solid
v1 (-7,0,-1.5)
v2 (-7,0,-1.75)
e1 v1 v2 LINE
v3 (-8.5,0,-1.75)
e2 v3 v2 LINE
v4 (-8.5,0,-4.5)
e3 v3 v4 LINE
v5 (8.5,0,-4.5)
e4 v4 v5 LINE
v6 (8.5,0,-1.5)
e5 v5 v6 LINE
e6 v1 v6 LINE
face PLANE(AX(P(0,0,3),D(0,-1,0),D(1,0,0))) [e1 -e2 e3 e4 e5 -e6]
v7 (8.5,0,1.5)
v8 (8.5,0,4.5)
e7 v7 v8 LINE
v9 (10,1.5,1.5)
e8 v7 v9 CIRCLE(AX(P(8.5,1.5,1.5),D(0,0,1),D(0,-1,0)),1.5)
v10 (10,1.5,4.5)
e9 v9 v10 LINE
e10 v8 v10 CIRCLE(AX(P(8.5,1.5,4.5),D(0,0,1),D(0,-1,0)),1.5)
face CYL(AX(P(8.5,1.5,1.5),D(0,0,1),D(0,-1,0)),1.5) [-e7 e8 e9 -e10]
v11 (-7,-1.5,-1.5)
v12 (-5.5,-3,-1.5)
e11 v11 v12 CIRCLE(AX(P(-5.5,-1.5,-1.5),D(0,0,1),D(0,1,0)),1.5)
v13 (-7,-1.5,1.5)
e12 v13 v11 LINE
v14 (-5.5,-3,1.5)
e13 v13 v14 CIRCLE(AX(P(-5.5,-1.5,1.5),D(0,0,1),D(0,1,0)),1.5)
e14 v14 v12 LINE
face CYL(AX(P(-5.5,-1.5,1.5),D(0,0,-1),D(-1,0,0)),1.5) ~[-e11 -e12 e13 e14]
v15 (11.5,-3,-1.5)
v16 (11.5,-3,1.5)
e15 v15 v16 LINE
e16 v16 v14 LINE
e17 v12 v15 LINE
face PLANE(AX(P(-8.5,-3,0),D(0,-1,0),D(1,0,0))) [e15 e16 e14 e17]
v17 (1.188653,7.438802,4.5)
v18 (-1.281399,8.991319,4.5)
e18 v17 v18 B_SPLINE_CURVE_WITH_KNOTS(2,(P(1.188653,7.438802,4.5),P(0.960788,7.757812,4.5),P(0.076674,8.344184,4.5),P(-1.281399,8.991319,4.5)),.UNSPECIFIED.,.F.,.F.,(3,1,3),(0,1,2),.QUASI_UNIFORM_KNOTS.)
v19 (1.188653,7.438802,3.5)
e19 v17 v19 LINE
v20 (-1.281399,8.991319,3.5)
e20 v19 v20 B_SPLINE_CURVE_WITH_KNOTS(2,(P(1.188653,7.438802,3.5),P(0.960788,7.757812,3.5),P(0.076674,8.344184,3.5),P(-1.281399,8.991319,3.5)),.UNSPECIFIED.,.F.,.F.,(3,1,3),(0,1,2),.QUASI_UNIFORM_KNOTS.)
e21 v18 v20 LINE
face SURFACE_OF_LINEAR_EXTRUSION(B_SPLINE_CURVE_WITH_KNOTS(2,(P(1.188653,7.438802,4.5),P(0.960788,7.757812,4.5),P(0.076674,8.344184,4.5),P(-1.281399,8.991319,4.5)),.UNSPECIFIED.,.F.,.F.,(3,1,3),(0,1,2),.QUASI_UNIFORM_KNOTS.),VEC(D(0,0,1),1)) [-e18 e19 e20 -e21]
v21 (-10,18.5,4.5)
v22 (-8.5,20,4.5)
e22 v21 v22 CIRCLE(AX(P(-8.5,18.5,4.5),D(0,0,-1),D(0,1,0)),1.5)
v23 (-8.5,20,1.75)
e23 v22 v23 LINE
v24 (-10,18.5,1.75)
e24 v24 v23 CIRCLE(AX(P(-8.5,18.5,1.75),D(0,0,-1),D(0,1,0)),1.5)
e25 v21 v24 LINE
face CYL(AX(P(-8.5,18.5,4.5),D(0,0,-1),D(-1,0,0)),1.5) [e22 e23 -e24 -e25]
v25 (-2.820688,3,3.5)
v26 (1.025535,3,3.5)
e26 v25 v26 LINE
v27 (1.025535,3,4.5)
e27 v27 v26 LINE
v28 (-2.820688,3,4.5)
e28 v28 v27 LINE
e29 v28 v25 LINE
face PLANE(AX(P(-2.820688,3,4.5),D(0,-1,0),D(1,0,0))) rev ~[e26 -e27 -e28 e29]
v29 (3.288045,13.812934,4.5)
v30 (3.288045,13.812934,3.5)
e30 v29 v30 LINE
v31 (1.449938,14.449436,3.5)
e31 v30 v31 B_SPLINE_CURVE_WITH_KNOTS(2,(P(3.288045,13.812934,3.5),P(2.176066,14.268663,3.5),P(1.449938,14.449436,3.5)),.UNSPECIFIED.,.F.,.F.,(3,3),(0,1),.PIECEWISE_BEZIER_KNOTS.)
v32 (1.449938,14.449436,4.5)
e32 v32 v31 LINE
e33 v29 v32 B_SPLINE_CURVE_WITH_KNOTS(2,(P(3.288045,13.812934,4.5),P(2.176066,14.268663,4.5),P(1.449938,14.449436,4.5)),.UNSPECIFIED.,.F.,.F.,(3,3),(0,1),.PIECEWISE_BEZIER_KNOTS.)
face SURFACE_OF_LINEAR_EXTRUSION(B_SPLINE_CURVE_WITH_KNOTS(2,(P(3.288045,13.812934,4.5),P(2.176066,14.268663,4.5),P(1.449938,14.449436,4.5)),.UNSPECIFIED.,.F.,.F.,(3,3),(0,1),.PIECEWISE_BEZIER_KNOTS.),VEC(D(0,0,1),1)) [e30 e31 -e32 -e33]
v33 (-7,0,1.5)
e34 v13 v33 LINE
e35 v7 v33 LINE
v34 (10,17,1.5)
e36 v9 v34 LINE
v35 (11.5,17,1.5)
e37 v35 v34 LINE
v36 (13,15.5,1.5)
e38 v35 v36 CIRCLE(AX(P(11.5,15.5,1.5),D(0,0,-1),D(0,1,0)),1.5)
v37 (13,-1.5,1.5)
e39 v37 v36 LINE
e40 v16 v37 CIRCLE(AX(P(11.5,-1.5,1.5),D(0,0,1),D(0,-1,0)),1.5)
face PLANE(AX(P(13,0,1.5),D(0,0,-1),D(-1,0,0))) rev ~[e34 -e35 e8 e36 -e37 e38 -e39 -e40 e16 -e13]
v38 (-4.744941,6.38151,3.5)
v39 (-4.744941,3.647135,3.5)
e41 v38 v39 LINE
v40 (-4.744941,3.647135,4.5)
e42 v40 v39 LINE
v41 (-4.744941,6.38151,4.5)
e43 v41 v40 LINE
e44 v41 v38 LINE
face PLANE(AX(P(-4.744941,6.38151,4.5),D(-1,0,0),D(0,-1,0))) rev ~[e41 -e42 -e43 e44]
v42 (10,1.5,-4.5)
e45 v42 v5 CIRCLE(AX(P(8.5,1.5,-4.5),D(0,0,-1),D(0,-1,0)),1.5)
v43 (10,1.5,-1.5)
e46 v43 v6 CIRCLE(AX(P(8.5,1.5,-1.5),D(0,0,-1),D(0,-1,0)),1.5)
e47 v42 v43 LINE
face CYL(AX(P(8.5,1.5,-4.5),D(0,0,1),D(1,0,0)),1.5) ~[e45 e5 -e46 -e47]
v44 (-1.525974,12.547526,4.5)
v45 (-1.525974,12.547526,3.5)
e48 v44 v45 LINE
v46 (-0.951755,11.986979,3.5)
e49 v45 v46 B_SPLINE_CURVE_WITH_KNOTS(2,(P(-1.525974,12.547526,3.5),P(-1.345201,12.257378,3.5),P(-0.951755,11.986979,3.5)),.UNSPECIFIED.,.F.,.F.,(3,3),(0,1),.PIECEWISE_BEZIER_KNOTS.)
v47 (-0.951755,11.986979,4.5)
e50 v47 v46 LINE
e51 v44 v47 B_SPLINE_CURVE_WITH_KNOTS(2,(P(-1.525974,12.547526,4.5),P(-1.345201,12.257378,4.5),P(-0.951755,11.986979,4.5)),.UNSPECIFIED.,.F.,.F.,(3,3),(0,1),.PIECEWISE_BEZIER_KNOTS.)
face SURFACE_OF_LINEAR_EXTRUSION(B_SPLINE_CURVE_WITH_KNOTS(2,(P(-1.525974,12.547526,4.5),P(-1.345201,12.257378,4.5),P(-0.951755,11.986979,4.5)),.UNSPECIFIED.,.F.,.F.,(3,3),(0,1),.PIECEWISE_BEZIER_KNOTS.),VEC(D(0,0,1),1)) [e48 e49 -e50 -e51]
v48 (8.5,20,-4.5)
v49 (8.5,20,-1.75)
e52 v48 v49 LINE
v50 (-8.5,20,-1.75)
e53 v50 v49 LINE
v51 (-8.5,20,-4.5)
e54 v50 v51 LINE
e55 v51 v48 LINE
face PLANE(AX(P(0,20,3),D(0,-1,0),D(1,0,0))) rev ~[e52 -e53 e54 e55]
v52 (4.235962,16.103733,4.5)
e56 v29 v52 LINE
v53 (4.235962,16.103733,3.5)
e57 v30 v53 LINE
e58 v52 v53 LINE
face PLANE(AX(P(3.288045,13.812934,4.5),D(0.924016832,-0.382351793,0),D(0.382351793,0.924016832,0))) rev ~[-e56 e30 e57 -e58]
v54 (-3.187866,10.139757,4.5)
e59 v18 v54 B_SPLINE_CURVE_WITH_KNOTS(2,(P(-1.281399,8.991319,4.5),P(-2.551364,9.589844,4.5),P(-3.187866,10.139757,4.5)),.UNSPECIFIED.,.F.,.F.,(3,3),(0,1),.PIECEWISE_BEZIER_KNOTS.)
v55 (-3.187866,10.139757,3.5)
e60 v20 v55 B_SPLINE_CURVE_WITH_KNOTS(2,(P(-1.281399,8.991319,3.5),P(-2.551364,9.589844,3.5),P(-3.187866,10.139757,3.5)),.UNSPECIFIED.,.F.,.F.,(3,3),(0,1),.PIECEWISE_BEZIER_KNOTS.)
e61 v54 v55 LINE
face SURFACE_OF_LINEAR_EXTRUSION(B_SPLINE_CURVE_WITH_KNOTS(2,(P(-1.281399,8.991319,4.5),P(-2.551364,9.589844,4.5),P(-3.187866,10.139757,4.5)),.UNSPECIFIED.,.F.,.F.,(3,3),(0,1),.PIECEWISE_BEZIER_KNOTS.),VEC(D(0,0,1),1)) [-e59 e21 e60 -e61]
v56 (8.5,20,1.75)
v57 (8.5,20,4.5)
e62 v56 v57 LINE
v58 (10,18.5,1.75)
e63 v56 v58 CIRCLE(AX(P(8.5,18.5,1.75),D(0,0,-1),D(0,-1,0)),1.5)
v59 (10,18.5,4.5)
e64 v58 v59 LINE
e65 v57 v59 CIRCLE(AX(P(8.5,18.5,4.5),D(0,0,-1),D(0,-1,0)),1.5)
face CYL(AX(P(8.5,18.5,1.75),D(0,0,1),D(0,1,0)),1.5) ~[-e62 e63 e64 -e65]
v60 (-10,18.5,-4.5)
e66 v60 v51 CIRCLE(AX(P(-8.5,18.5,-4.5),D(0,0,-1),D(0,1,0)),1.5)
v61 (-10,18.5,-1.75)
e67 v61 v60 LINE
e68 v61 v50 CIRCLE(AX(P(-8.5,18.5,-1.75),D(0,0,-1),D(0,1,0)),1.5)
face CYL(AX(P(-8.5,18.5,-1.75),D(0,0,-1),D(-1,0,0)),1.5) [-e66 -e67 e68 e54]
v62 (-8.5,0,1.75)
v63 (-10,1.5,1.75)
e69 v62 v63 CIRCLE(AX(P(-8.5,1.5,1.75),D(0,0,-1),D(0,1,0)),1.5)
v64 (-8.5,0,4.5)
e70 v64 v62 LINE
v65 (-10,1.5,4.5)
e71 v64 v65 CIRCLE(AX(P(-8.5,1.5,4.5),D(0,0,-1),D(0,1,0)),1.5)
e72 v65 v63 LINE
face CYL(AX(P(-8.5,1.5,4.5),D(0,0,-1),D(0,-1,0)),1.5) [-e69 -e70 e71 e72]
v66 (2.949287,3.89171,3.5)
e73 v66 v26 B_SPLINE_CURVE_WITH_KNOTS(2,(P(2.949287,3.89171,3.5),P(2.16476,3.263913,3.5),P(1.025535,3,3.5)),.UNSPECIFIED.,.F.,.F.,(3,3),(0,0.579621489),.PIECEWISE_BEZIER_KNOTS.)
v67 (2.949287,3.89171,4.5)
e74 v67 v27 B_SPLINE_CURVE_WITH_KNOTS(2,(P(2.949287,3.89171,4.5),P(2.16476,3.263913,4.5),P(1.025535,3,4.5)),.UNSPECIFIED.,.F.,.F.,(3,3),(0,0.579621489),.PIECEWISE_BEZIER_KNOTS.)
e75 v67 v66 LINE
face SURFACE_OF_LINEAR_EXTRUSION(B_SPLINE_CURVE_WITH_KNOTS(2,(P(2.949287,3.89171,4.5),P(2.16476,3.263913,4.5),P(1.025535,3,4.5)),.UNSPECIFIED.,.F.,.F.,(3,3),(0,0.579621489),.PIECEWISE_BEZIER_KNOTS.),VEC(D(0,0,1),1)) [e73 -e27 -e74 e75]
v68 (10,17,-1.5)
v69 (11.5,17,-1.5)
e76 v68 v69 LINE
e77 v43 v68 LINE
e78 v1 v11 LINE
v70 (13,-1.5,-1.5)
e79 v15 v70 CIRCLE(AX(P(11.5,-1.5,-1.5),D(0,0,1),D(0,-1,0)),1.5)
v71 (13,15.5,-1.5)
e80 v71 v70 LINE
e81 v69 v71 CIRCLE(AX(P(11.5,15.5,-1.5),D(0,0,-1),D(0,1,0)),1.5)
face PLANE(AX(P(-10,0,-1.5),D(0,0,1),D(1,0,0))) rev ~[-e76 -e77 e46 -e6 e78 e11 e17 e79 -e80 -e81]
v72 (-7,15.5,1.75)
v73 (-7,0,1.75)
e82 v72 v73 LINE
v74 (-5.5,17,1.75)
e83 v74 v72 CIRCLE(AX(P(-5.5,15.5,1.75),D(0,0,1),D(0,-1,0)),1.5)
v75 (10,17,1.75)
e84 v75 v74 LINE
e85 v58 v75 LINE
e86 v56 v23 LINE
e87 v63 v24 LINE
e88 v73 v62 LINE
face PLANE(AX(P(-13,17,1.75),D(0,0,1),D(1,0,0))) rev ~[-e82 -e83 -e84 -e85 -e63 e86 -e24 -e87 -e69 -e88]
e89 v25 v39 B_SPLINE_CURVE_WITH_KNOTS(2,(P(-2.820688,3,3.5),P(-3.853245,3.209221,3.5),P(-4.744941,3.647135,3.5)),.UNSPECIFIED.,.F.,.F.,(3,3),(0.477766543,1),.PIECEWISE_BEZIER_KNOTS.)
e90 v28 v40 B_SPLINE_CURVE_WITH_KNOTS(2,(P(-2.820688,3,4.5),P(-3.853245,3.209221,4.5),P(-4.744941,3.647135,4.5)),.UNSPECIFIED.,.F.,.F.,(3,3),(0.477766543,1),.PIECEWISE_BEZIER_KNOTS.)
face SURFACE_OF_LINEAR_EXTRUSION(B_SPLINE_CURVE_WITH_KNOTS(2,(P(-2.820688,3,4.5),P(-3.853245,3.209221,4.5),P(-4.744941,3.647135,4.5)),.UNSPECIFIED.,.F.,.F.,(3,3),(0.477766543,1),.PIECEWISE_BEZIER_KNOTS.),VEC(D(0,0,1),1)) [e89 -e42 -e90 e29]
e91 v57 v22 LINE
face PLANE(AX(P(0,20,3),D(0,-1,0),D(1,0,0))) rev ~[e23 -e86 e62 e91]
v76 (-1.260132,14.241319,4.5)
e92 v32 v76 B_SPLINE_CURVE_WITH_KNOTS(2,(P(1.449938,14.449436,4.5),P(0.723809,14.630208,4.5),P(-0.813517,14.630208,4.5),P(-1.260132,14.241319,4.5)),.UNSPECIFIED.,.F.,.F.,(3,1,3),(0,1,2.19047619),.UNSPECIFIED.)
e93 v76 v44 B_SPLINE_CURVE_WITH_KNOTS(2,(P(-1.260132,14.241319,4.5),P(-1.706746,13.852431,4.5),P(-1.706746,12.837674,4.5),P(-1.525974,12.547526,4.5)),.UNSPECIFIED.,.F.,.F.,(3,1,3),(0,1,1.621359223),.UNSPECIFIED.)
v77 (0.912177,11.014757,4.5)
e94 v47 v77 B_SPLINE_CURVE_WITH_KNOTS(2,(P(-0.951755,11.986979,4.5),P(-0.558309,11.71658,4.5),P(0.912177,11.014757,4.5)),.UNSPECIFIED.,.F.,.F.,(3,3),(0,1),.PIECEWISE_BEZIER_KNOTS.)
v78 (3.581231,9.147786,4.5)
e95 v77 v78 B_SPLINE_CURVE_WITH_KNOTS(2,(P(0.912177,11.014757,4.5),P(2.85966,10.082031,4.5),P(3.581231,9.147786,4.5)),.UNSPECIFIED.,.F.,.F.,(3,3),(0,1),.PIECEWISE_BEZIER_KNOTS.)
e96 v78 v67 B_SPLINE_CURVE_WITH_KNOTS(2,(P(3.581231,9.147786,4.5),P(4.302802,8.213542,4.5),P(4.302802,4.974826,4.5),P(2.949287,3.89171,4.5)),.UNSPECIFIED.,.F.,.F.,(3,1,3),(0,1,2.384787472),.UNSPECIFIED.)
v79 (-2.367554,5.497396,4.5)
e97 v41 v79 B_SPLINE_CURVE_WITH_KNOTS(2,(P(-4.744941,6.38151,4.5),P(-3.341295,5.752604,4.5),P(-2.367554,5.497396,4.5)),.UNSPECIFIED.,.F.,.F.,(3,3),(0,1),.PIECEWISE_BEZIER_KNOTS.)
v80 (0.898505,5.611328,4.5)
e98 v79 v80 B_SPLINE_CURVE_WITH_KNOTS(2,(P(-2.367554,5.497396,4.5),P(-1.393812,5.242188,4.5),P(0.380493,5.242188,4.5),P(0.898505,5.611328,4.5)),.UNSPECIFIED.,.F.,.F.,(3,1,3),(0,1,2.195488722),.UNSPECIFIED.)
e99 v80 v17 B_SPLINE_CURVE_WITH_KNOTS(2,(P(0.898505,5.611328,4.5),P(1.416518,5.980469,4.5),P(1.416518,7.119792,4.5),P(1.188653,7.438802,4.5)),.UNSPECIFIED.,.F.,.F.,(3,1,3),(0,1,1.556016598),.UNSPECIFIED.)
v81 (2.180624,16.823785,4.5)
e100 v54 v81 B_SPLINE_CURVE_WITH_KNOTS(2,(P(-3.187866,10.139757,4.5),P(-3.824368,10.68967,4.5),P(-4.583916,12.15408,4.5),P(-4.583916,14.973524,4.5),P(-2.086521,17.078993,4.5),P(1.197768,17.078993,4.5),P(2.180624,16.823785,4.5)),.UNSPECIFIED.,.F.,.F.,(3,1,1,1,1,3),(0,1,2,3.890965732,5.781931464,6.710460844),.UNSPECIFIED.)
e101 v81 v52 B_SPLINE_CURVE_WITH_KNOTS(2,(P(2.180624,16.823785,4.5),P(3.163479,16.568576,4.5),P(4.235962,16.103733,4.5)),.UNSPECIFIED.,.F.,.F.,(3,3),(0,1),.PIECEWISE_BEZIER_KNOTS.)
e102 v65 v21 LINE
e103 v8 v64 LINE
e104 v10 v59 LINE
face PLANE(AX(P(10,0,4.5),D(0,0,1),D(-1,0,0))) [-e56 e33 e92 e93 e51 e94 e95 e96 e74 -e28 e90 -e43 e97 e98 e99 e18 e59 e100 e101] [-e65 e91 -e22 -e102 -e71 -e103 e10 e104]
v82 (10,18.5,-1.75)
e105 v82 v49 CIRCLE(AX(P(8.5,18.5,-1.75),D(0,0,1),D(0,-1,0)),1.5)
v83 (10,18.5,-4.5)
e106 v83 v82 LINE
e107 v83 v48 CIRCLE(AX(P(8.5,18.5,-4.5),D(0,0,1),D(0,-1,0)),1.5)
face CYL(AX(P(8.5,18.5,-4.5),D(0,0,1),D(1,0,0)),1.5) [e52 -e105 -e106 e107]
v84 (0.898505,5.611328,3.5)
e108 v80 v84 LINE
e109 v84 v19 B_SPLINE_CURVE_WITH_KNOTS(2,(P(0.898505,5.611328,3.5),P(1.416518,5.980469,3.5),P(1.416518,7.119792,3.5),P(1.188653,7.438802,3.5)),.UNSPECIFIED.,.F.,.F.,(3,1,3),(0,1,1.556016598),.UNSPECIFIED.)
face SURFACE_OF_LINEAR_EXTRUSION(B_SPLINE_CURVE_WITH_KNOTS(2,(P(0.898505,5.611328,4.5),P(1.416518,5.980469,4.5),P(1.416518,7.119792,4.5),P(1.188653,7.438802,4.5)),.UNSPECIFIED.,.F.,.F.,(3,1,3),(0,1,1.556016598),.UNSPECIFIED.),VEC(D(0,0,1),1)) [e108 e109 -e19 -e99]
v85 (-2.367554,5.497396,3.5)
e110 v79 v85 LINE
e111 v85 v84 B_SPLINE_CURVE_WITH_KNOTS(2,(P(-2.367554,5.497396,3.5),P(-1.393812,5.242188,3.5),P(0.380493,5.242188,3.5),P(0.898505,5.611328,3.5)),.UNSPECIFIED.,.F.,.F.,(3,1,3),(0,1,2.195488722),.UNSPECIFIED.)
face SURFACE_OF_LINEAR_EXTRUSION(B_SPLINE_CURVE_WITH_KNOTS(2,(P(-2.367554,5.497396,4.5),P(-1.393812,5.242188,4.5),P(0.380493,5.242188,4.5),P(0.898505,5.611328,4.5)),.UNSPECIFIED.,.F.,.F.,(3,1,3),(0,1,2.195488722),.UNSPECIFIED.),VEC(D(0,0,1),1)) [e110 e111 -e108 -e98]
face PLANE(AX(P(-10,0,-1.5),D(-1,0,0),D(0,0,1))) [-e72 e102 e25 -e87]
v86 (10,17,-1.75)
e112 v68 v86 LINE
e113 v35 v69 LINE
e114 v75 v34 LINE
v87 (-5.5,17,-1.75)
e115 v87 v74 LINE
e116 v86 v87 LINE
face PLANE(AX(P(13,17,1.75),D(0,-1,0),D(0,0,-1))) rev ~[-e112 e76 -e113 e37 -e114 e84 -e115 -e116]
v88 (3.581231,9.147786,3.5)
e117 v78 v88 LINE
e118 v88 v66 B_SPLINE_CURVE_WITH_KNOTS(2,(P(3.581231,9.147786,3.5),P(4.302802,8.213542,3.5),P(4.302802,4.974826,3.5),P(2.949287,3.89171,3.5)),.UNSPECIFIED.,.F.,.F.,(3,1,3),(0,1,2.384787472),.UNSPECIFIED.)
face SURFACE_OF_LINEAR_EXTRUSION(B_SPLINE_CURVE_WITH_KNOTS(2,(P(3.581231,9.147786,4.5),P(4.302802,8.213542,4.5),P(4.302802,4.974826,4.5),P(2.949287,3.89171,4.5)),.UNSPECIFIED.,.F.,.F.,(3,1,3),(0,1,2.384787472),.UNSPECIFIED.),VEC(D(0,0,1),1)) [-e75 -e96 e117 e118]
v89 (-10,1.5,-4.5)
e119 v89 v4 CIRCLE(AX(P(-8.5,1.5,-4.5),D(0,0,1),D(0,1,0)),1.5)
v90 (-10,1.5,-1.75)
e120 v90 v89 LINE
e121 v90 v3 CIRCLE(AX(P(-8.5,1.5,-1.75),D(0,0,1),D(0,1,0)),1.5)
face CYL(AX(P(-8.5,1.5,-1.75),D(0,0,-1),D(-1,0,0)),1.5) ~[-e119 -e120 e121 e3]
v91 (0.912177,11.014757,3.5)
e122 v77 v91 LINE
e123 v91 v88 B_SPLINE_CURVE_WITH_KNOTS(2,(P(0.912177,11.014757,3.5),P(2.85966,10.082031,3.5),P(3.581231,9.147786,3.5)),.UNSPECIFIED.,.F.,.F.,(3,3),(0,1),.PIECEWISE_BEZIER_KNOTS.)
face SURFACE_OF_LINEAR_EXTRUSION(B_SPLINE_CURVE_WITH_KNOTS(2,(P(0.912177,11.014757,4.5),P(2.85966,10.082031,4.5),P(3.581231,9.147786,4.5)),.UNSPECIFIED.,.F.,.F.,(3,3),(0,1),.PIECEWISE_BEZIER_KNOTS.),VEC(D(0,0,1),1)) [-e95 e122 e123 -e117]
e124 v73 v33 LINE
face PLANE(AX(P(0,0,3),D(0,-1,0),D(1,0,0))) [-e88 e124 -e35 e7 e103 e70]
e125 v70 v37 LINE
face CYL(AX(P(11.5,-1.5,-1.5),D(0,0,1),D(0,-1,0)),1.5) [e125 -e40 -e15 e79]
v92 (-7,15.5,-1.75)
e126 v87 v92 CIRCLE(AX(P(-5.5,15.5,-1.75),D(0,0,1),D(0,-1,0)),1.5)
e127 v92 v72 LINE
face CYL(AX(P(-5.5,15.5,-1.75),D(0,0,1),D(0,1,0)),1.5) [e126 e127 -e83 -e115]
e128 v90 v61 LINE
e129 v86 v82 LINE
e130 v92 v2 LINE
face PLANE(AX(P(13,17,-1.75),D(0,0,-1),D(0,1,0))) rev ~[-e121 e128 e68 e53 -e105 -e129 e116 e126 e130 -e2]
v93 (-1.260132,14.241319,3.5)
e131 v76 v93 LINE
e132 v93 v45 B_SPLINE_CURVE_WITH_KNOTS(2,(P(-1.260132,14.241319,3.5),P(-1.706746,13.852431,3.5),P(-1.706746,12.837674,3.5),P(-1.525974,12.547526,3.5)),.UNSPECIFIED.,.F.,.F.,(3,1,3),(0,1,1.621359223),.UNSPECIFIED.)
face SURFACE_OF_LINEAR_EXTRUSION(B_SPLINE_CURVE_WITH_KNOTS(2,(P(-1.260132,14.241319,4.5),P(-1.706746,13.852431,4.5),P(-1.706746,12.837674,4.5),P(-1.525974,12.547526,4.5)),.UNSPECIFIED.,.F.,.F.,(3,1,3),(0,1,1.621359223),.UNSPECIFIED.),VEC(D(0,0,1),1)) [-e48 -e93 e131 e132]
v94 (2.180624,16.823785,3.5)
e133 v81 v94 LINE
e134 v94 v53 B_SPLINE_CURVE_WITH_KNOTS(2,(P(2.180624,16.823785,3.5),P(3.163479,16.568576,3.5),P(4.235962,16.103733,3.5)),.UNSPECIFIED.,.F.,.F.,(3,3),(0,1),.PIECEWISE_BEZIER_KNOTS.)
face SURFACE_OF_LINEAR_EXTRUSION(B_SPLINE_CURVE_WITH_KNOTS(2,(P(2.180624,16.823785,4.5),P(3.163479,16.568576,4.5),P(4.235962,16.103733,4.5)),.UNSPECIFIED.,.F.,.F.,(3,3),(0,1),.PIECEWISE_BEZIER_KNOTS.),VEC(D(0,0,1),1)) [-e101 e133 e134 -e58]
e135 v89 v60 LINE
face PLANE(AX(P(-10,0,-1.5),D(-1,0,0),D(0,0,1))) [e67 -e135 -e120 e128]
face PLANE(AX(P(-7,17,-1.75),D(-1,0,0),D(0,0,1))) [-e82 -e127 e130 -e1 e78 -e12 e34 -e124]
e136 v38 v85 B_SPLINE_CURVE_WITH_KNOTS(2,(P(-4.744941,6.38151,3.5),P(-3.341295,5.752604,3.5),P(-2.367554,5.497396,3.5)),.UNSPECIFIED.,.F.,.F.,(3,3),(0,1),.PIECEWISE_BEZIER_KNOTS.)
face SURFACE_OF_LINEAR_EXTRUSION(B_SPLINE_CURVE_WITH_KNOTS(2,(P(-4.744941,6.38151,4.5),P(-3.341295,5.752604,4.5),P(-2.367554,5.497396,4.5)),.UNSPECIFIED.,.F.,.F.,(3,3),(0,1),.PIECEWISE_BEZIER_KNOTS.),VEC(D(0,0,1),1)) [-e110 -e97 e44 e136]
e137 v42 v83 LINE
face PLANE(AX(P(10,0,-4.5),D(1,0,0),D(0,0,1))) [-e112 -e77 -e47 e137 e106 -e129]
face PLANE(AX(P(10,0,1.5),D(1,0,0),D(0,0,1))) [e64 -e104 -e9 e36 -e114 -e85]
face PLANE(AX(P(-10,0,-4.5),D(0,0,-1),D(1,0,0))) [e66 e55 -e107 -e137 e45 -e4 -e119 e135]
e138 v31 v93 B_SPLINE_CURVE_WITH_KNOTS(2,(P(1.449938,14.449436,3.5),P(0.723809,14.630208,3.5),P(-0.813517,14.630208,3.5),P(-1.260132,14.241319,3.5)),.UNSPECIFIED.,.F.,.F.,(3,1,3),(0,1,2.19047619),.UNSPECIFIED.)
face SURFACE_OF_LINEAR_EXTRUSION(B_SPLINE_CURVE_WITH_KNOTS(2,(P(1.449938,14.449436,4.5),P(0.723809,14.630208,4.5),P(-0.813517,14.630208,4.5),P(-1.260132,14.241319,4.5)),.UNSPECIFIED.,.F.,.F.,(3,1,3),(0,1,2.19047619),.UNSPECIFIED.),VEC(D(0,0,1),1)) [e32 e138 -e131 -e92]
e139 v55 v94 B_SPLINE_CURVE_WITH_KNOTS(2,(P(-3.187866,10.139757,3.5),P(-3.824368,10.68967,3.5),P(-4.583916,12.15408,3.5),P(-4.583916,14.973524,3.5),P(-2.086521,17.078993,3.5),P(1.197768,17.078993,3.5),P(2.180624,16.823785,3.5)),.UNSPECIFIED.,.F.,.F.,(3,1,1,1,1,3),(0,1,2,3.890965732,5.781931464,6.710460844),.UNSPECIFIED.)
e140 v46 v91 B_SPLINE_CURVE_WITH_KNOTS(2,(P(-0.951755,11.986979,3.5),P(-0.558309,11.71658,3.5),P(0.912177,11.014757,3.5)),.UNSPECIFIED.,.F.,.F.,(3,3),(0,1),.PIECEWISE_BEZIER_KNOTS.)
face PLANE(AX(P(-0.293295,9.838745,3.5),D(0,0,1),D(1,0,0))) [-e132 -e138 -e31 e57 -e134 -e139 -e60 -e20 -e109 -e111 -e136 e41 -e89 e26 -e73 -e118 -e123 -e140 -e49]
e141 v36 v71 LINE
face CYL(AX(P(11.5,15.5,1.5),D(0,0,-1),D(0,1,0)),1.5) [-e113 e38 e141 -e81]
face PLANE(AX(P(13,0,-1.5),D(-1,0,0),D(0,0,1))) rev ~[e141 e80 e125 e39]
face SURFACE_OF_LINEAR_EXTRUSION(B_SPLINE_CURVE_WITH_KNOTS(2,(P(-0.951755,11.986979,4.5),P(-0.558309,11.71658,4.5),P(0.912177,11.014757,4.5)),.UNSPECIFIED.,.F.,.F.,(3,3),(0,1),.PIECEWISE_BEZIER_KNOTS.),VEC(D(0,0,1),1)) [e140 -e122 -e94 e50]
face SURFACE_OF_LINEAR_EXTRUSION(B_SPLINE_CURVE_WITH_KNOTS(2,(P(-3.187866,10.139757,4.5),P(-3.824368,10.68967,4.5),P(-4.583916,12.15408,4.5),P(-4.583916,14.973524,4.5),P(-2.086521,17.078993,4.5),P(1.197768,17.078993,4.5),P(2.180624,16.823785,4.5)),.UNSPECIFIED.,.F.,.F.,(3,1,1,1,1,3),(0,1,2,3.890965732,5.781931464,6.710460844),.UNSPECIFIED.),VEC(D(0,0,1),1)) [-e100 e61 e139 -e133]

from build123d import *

# Parameters (mm, degrees)
F0_W     = 14
F0_H     = 3
F0_W_2   = 3
F1_DEPTH = 20
F2_DEPTH = 3
F3_W     = 3
F3_H     = 3
F4_DEPTH = 100
F5_W     = 3
F5_H     = 3.5
F6_DEPTH = 100
F7_R     = 1.5
F9_DEPTH = 1


with BuildPart() as f1:
    # F0 (on Front) → F1 (new body)
    with BuildSketch(Plane.XZ):
        Polygon((10, 1.5), (10, 4.5), (-10, 4.5), (-10, 1.5), (-7, 1.5), (7, 1.5), align=None)
        Rectangle(F0_W, F0_H)
        with Locations((11.5, 0)):
            Rectangle(F0_W_2, F0_H)
        with Locations((8.5, 0)):
            Rectangle(F0_W_2, F0_H)
        with Locations((-8.5, 0)):
            Rectangle(F0_W_2, F0_H)
        Polygon((10, -4.5), (10, -1.5), (7, -1.5), (-7, -1.5), (-10, -1.5), (-10, -4.5), align=None)
    extrude(amount=-F1_DEPTH)

    # F0 (on Front) → F2 (join)
    with BuildSketch(Plane.XZ):
        with Locations((-8.5, 0)):
            Rectangle(F0_W_2, F0_H)
        Rectangle(F0_W, F0_H)
        with Locations((8.5, 0)):
            Rectangle(F0_W_2, F0_H)
        with Locations((11.5, 0)):
            Rectangle(F0_W_2, F0_H)
    extrude(amount=F2_DEPTH)

    # F3 (on face) → F4 (cut)
    with BuildSketch(Plane.YZ.offset(13)):
        Polygon((23, -1.75), (23, 1.75), (17, 1.75), (17, 1.5), (20, 1.5), (20, -1.5), (17, -1.5), (17, -1.75), align=None)
        with Locations((18.5, 0)):
            Rectangle(F3_W, F3_H)
    extrude(amount=-F4_DEPTH, mode=Mode.SUBTRACT)

    # F5 (on face) → F6 (cut)
    with BuildSketch(Plane(origin=(0, 17, 0), x_dir=(-1, 0, 0), z_dir=(0, 1, 0))):
        with Locations((11.5, 0)):
            Rectangle(F5_W, F5_H)
        with Locations((8.5, 0)):
            Rectangle(F5_W, F5_H)
    extrude(amount=-F6_DEPTH, mode=Mode.SUBTRACT)

    # F7
    f7_edges = [f1.edges().sort_by_distance(p)[0] for p in [
        (-7, -3, 0),
        (13, -3, 0),
        (10, 0, 3),
        (10, 0, -3),
        (-10, 0, -3.125),
        (-10, 0, 3.125),
        (-7, 17, 0),
        (-10, 20, 3.125),
        (-10, 20, -3.125),
        (13, 17, 0),
        (10, 20, 3.125),
        (10, 20, -3.125),
    ]]
    fillet(f7_edges, radius=F7_R)

    # F8 (on face) → F9 (cut)
    with BuildSketch(Plane.XY.offset(4.5)):
        with BuildLine():
            Line((-2.8206877235, 3), (1.0255347449, 3))
            add(Edge.make_bspline(
                [(2.9492867111, 3.8917100694), (2.1647599693, 3.2639125757), (1.0255347449, 3)],
                knots=[0, 0, 0, 0.5796214889, 0.5796214889, 0.5796214889], degree=2))
            add(Edge.make_bspline(
                [(4.3028023361, 6.85546875), (4.3028023361, 4.9748263889), (2.9492867111, 3.8917100694)],
                knots=[0, 0, 0, 1, 1, 1], degree=2))
            add(Edge.make_bspline(
                [(3.5812311556, 9.1477864583), (4.3028023361, 8.2135416667), (4.3028023361, 6.85546875)],
                knots=[0, 0, 0, 1, 1, 1], degree=2))
            add(Edge.make_bspline(
                [(0.9121773361, 11.0147569444), (2.859659975, 10.08203125), (3.5812311556, 9.1477864583)],
                knots=[0, 0, 0, 1, 1, 1], degree=2))
            add(Edge.make_bspline(
                [(-0.9517549555, 11.9869791667), (-0.558308775, 11.7165798611), (0.9121773361, 11.0147569444)],
                knots=[0, 0, 0, 1, 1, 1], degree=2))
            add(Edge.make_bspline(
                [(-1.5259737055, 12.5475260417), (-1.3452011361, 12.2573784722), (-0.9517549555, 11.9869791667)],
                knots=[0, 0, 0, 1, 1, 1], degree=2))
            add(Edge.make_bspline(
                [(-1.706746275, 13.2265625), (-1.706746275, 12.8376736111), (-1.5259737055, 12.5475260417)],
                knots=[0, 0, 0, 1, 1, 1], degree=2))
            add(Edge.make_bspline(
                [(-1.2601316916, 14.2413194444), (-1.706746275, 13.8524305556), (-1.706746275, 13.2265625)],
                knots=[0, 0, 0, 1, 1, 1], degree=2))
            add(Edge.make_bspline(
                [(0.0219863639, 14.6302083333), (-0.8135171083, 14.6302083333), (-1.2601316916, 14.2413194444)],
                knots=[0, 0, 0, 1, 1, 1], degree=2))
            add(Edge.make_bspline(
                [(1.4499377528, 14.4494357639), (0.7238092806, 14.6302083333), (0.0219863639, 14.6302083333)],
                knots=[0, 0, 0, 1, 1, 1], degree=2))
            add(Edge.make_bspline(
                [(3.2880453917, 13.8129340278), (2.176066225, 14.2686631944), (1.4499377528, 14.4494357639)],
                knots=[0, 0, 0, 1, 1, 1], degree=2))
            Line((3.2880453917, 13.8129340278), (4.2359620584, 16.1037326389))
            add(Edge.make_bspline(
                [(2.1806235167, 16.8237847222), (3.1634794195, 16.5685763889), (4.2359620584, 16.1037326389)],
                knots=[0, 0, 0, 1, 1, 1], degree=2))
            add(Edge.make_bspline(
                [(0.1161703917, 17.0789930556), (1.1977676139, 17.0789930556), (2.1806235167, 16.8237847222)],
                knots=[0, 0, 0, 1, 1, 1], degree=2))
            add(Edge.make_bspline(
                [(-3.3352184972, 16.0262586806), (-2.0865205805, 17.0789930556), (0.1161703917, 17.0789930556)],
                knots=[0, 0, 0, 1, 1, 1], degree=2))
            add(Edge.make_bspline(
                [(-4.5839164139, 13.1293402778), (-4.5839164139, 14.9735243056), (-3.3352184972, 16.0262586806)],
                knots=[0, 0, 0, 1, 1, 1], degree=2))
            add(Edge.make_bspline(
                [(-4.2041421083, 11.421875), (-4.5839164139, 12.1540798611), (-4.5839164139, 13.1293402778)],
                knots=[0, 0, 0, 1, 1, 1], degree=2))
            add(Edge.make_bspline(
                [(-3.1878660666, 10.1397569444), (-3.8243678027, 10.6896701389), (-4.2041421083, 11.421875)],
                knots=[0, 0, 0, 1, 1, 1], degree=2))
            add(Edge.make_bspline(
                [(-1.2813990527, 8.9913194444), (-2.5513643305, 9.58984375), (-3.1878660666, 10.1397569444)],
                knots=[0, 0, 0, 1, 1, 1], degree=2))
            add(Edge.make_bspline(
                [(0.5187311556, 8.0509982639), (0.0766738639, 8.3441840278), (-1.2813990527, 8.9913194444)],
                knots=[0, 0, 0, 1, 1, 1], degree=2))
            add(Edge.make_bspline(
                [(1.1886530306, 7.4388020833), (0.9607884473, 7.7578125), (0.5187311556, 8.0509982639)],
                knots=[0, 0, 0, 1, 1, 1], degree=2))
            add(Edge.make_bspline(
                [(1.4165176139, 6.7126736111), (1.4165176139, 7.1197916667), (1.1886530306, 7.4388020833)],
                knots=[0, 0, 0, 1, 1, 1], degree=2))
            add(Edge.make_bspline(
                [(0.8985054611, 5.611328125), (1.4165176139, 5.98046875), (1.4165176139, 6.7126736111)],
                knots=[0, 0, 0, 1, 1, 1], degree=2))
            add(Edge.make_bspline(
                [(-0.585652525, 5.2421875), (0.3804933084, 5.2421875), (0.8985054611, 5.611328125)],
                knots=[0, 0, 0, 1, 1, 1], degree=2))
            add(Edge.make_bspline(
                [(-2.3675535666, 5.4973958333), (-1.3938122472, 5.2421875), (-0.585652525, 5.2421875)],
                knots=[0, 0, 0, 1, 1, 1], degree=2))
            add(Edge.make_bspline(
                [(-4.7449407194, 6.3815104167), (-3.3412948861, 5.7526041667), (-2.3675535666, 5.4973958333)],
                knots=[0, 0, 0, 1, 1, 1], degree=2))
            Line((-4.7449407194, 6.3815104167), (-4.7449407194, 3.6471354167))
            add(Edge.make_bspline(
                [(-2.8206877235, 3), (-3.8532452246, 3.2092209032), (-4.7449407194, 3.6471354167)],
                knots=[0.477766543, 0.477766543, 0.477766543, 1, 1, 1], degree=2))
        make_face()
    extrude(amount=-F9_DEPTH, mode=Mode.SUBTRACT)


solid = f1.part
